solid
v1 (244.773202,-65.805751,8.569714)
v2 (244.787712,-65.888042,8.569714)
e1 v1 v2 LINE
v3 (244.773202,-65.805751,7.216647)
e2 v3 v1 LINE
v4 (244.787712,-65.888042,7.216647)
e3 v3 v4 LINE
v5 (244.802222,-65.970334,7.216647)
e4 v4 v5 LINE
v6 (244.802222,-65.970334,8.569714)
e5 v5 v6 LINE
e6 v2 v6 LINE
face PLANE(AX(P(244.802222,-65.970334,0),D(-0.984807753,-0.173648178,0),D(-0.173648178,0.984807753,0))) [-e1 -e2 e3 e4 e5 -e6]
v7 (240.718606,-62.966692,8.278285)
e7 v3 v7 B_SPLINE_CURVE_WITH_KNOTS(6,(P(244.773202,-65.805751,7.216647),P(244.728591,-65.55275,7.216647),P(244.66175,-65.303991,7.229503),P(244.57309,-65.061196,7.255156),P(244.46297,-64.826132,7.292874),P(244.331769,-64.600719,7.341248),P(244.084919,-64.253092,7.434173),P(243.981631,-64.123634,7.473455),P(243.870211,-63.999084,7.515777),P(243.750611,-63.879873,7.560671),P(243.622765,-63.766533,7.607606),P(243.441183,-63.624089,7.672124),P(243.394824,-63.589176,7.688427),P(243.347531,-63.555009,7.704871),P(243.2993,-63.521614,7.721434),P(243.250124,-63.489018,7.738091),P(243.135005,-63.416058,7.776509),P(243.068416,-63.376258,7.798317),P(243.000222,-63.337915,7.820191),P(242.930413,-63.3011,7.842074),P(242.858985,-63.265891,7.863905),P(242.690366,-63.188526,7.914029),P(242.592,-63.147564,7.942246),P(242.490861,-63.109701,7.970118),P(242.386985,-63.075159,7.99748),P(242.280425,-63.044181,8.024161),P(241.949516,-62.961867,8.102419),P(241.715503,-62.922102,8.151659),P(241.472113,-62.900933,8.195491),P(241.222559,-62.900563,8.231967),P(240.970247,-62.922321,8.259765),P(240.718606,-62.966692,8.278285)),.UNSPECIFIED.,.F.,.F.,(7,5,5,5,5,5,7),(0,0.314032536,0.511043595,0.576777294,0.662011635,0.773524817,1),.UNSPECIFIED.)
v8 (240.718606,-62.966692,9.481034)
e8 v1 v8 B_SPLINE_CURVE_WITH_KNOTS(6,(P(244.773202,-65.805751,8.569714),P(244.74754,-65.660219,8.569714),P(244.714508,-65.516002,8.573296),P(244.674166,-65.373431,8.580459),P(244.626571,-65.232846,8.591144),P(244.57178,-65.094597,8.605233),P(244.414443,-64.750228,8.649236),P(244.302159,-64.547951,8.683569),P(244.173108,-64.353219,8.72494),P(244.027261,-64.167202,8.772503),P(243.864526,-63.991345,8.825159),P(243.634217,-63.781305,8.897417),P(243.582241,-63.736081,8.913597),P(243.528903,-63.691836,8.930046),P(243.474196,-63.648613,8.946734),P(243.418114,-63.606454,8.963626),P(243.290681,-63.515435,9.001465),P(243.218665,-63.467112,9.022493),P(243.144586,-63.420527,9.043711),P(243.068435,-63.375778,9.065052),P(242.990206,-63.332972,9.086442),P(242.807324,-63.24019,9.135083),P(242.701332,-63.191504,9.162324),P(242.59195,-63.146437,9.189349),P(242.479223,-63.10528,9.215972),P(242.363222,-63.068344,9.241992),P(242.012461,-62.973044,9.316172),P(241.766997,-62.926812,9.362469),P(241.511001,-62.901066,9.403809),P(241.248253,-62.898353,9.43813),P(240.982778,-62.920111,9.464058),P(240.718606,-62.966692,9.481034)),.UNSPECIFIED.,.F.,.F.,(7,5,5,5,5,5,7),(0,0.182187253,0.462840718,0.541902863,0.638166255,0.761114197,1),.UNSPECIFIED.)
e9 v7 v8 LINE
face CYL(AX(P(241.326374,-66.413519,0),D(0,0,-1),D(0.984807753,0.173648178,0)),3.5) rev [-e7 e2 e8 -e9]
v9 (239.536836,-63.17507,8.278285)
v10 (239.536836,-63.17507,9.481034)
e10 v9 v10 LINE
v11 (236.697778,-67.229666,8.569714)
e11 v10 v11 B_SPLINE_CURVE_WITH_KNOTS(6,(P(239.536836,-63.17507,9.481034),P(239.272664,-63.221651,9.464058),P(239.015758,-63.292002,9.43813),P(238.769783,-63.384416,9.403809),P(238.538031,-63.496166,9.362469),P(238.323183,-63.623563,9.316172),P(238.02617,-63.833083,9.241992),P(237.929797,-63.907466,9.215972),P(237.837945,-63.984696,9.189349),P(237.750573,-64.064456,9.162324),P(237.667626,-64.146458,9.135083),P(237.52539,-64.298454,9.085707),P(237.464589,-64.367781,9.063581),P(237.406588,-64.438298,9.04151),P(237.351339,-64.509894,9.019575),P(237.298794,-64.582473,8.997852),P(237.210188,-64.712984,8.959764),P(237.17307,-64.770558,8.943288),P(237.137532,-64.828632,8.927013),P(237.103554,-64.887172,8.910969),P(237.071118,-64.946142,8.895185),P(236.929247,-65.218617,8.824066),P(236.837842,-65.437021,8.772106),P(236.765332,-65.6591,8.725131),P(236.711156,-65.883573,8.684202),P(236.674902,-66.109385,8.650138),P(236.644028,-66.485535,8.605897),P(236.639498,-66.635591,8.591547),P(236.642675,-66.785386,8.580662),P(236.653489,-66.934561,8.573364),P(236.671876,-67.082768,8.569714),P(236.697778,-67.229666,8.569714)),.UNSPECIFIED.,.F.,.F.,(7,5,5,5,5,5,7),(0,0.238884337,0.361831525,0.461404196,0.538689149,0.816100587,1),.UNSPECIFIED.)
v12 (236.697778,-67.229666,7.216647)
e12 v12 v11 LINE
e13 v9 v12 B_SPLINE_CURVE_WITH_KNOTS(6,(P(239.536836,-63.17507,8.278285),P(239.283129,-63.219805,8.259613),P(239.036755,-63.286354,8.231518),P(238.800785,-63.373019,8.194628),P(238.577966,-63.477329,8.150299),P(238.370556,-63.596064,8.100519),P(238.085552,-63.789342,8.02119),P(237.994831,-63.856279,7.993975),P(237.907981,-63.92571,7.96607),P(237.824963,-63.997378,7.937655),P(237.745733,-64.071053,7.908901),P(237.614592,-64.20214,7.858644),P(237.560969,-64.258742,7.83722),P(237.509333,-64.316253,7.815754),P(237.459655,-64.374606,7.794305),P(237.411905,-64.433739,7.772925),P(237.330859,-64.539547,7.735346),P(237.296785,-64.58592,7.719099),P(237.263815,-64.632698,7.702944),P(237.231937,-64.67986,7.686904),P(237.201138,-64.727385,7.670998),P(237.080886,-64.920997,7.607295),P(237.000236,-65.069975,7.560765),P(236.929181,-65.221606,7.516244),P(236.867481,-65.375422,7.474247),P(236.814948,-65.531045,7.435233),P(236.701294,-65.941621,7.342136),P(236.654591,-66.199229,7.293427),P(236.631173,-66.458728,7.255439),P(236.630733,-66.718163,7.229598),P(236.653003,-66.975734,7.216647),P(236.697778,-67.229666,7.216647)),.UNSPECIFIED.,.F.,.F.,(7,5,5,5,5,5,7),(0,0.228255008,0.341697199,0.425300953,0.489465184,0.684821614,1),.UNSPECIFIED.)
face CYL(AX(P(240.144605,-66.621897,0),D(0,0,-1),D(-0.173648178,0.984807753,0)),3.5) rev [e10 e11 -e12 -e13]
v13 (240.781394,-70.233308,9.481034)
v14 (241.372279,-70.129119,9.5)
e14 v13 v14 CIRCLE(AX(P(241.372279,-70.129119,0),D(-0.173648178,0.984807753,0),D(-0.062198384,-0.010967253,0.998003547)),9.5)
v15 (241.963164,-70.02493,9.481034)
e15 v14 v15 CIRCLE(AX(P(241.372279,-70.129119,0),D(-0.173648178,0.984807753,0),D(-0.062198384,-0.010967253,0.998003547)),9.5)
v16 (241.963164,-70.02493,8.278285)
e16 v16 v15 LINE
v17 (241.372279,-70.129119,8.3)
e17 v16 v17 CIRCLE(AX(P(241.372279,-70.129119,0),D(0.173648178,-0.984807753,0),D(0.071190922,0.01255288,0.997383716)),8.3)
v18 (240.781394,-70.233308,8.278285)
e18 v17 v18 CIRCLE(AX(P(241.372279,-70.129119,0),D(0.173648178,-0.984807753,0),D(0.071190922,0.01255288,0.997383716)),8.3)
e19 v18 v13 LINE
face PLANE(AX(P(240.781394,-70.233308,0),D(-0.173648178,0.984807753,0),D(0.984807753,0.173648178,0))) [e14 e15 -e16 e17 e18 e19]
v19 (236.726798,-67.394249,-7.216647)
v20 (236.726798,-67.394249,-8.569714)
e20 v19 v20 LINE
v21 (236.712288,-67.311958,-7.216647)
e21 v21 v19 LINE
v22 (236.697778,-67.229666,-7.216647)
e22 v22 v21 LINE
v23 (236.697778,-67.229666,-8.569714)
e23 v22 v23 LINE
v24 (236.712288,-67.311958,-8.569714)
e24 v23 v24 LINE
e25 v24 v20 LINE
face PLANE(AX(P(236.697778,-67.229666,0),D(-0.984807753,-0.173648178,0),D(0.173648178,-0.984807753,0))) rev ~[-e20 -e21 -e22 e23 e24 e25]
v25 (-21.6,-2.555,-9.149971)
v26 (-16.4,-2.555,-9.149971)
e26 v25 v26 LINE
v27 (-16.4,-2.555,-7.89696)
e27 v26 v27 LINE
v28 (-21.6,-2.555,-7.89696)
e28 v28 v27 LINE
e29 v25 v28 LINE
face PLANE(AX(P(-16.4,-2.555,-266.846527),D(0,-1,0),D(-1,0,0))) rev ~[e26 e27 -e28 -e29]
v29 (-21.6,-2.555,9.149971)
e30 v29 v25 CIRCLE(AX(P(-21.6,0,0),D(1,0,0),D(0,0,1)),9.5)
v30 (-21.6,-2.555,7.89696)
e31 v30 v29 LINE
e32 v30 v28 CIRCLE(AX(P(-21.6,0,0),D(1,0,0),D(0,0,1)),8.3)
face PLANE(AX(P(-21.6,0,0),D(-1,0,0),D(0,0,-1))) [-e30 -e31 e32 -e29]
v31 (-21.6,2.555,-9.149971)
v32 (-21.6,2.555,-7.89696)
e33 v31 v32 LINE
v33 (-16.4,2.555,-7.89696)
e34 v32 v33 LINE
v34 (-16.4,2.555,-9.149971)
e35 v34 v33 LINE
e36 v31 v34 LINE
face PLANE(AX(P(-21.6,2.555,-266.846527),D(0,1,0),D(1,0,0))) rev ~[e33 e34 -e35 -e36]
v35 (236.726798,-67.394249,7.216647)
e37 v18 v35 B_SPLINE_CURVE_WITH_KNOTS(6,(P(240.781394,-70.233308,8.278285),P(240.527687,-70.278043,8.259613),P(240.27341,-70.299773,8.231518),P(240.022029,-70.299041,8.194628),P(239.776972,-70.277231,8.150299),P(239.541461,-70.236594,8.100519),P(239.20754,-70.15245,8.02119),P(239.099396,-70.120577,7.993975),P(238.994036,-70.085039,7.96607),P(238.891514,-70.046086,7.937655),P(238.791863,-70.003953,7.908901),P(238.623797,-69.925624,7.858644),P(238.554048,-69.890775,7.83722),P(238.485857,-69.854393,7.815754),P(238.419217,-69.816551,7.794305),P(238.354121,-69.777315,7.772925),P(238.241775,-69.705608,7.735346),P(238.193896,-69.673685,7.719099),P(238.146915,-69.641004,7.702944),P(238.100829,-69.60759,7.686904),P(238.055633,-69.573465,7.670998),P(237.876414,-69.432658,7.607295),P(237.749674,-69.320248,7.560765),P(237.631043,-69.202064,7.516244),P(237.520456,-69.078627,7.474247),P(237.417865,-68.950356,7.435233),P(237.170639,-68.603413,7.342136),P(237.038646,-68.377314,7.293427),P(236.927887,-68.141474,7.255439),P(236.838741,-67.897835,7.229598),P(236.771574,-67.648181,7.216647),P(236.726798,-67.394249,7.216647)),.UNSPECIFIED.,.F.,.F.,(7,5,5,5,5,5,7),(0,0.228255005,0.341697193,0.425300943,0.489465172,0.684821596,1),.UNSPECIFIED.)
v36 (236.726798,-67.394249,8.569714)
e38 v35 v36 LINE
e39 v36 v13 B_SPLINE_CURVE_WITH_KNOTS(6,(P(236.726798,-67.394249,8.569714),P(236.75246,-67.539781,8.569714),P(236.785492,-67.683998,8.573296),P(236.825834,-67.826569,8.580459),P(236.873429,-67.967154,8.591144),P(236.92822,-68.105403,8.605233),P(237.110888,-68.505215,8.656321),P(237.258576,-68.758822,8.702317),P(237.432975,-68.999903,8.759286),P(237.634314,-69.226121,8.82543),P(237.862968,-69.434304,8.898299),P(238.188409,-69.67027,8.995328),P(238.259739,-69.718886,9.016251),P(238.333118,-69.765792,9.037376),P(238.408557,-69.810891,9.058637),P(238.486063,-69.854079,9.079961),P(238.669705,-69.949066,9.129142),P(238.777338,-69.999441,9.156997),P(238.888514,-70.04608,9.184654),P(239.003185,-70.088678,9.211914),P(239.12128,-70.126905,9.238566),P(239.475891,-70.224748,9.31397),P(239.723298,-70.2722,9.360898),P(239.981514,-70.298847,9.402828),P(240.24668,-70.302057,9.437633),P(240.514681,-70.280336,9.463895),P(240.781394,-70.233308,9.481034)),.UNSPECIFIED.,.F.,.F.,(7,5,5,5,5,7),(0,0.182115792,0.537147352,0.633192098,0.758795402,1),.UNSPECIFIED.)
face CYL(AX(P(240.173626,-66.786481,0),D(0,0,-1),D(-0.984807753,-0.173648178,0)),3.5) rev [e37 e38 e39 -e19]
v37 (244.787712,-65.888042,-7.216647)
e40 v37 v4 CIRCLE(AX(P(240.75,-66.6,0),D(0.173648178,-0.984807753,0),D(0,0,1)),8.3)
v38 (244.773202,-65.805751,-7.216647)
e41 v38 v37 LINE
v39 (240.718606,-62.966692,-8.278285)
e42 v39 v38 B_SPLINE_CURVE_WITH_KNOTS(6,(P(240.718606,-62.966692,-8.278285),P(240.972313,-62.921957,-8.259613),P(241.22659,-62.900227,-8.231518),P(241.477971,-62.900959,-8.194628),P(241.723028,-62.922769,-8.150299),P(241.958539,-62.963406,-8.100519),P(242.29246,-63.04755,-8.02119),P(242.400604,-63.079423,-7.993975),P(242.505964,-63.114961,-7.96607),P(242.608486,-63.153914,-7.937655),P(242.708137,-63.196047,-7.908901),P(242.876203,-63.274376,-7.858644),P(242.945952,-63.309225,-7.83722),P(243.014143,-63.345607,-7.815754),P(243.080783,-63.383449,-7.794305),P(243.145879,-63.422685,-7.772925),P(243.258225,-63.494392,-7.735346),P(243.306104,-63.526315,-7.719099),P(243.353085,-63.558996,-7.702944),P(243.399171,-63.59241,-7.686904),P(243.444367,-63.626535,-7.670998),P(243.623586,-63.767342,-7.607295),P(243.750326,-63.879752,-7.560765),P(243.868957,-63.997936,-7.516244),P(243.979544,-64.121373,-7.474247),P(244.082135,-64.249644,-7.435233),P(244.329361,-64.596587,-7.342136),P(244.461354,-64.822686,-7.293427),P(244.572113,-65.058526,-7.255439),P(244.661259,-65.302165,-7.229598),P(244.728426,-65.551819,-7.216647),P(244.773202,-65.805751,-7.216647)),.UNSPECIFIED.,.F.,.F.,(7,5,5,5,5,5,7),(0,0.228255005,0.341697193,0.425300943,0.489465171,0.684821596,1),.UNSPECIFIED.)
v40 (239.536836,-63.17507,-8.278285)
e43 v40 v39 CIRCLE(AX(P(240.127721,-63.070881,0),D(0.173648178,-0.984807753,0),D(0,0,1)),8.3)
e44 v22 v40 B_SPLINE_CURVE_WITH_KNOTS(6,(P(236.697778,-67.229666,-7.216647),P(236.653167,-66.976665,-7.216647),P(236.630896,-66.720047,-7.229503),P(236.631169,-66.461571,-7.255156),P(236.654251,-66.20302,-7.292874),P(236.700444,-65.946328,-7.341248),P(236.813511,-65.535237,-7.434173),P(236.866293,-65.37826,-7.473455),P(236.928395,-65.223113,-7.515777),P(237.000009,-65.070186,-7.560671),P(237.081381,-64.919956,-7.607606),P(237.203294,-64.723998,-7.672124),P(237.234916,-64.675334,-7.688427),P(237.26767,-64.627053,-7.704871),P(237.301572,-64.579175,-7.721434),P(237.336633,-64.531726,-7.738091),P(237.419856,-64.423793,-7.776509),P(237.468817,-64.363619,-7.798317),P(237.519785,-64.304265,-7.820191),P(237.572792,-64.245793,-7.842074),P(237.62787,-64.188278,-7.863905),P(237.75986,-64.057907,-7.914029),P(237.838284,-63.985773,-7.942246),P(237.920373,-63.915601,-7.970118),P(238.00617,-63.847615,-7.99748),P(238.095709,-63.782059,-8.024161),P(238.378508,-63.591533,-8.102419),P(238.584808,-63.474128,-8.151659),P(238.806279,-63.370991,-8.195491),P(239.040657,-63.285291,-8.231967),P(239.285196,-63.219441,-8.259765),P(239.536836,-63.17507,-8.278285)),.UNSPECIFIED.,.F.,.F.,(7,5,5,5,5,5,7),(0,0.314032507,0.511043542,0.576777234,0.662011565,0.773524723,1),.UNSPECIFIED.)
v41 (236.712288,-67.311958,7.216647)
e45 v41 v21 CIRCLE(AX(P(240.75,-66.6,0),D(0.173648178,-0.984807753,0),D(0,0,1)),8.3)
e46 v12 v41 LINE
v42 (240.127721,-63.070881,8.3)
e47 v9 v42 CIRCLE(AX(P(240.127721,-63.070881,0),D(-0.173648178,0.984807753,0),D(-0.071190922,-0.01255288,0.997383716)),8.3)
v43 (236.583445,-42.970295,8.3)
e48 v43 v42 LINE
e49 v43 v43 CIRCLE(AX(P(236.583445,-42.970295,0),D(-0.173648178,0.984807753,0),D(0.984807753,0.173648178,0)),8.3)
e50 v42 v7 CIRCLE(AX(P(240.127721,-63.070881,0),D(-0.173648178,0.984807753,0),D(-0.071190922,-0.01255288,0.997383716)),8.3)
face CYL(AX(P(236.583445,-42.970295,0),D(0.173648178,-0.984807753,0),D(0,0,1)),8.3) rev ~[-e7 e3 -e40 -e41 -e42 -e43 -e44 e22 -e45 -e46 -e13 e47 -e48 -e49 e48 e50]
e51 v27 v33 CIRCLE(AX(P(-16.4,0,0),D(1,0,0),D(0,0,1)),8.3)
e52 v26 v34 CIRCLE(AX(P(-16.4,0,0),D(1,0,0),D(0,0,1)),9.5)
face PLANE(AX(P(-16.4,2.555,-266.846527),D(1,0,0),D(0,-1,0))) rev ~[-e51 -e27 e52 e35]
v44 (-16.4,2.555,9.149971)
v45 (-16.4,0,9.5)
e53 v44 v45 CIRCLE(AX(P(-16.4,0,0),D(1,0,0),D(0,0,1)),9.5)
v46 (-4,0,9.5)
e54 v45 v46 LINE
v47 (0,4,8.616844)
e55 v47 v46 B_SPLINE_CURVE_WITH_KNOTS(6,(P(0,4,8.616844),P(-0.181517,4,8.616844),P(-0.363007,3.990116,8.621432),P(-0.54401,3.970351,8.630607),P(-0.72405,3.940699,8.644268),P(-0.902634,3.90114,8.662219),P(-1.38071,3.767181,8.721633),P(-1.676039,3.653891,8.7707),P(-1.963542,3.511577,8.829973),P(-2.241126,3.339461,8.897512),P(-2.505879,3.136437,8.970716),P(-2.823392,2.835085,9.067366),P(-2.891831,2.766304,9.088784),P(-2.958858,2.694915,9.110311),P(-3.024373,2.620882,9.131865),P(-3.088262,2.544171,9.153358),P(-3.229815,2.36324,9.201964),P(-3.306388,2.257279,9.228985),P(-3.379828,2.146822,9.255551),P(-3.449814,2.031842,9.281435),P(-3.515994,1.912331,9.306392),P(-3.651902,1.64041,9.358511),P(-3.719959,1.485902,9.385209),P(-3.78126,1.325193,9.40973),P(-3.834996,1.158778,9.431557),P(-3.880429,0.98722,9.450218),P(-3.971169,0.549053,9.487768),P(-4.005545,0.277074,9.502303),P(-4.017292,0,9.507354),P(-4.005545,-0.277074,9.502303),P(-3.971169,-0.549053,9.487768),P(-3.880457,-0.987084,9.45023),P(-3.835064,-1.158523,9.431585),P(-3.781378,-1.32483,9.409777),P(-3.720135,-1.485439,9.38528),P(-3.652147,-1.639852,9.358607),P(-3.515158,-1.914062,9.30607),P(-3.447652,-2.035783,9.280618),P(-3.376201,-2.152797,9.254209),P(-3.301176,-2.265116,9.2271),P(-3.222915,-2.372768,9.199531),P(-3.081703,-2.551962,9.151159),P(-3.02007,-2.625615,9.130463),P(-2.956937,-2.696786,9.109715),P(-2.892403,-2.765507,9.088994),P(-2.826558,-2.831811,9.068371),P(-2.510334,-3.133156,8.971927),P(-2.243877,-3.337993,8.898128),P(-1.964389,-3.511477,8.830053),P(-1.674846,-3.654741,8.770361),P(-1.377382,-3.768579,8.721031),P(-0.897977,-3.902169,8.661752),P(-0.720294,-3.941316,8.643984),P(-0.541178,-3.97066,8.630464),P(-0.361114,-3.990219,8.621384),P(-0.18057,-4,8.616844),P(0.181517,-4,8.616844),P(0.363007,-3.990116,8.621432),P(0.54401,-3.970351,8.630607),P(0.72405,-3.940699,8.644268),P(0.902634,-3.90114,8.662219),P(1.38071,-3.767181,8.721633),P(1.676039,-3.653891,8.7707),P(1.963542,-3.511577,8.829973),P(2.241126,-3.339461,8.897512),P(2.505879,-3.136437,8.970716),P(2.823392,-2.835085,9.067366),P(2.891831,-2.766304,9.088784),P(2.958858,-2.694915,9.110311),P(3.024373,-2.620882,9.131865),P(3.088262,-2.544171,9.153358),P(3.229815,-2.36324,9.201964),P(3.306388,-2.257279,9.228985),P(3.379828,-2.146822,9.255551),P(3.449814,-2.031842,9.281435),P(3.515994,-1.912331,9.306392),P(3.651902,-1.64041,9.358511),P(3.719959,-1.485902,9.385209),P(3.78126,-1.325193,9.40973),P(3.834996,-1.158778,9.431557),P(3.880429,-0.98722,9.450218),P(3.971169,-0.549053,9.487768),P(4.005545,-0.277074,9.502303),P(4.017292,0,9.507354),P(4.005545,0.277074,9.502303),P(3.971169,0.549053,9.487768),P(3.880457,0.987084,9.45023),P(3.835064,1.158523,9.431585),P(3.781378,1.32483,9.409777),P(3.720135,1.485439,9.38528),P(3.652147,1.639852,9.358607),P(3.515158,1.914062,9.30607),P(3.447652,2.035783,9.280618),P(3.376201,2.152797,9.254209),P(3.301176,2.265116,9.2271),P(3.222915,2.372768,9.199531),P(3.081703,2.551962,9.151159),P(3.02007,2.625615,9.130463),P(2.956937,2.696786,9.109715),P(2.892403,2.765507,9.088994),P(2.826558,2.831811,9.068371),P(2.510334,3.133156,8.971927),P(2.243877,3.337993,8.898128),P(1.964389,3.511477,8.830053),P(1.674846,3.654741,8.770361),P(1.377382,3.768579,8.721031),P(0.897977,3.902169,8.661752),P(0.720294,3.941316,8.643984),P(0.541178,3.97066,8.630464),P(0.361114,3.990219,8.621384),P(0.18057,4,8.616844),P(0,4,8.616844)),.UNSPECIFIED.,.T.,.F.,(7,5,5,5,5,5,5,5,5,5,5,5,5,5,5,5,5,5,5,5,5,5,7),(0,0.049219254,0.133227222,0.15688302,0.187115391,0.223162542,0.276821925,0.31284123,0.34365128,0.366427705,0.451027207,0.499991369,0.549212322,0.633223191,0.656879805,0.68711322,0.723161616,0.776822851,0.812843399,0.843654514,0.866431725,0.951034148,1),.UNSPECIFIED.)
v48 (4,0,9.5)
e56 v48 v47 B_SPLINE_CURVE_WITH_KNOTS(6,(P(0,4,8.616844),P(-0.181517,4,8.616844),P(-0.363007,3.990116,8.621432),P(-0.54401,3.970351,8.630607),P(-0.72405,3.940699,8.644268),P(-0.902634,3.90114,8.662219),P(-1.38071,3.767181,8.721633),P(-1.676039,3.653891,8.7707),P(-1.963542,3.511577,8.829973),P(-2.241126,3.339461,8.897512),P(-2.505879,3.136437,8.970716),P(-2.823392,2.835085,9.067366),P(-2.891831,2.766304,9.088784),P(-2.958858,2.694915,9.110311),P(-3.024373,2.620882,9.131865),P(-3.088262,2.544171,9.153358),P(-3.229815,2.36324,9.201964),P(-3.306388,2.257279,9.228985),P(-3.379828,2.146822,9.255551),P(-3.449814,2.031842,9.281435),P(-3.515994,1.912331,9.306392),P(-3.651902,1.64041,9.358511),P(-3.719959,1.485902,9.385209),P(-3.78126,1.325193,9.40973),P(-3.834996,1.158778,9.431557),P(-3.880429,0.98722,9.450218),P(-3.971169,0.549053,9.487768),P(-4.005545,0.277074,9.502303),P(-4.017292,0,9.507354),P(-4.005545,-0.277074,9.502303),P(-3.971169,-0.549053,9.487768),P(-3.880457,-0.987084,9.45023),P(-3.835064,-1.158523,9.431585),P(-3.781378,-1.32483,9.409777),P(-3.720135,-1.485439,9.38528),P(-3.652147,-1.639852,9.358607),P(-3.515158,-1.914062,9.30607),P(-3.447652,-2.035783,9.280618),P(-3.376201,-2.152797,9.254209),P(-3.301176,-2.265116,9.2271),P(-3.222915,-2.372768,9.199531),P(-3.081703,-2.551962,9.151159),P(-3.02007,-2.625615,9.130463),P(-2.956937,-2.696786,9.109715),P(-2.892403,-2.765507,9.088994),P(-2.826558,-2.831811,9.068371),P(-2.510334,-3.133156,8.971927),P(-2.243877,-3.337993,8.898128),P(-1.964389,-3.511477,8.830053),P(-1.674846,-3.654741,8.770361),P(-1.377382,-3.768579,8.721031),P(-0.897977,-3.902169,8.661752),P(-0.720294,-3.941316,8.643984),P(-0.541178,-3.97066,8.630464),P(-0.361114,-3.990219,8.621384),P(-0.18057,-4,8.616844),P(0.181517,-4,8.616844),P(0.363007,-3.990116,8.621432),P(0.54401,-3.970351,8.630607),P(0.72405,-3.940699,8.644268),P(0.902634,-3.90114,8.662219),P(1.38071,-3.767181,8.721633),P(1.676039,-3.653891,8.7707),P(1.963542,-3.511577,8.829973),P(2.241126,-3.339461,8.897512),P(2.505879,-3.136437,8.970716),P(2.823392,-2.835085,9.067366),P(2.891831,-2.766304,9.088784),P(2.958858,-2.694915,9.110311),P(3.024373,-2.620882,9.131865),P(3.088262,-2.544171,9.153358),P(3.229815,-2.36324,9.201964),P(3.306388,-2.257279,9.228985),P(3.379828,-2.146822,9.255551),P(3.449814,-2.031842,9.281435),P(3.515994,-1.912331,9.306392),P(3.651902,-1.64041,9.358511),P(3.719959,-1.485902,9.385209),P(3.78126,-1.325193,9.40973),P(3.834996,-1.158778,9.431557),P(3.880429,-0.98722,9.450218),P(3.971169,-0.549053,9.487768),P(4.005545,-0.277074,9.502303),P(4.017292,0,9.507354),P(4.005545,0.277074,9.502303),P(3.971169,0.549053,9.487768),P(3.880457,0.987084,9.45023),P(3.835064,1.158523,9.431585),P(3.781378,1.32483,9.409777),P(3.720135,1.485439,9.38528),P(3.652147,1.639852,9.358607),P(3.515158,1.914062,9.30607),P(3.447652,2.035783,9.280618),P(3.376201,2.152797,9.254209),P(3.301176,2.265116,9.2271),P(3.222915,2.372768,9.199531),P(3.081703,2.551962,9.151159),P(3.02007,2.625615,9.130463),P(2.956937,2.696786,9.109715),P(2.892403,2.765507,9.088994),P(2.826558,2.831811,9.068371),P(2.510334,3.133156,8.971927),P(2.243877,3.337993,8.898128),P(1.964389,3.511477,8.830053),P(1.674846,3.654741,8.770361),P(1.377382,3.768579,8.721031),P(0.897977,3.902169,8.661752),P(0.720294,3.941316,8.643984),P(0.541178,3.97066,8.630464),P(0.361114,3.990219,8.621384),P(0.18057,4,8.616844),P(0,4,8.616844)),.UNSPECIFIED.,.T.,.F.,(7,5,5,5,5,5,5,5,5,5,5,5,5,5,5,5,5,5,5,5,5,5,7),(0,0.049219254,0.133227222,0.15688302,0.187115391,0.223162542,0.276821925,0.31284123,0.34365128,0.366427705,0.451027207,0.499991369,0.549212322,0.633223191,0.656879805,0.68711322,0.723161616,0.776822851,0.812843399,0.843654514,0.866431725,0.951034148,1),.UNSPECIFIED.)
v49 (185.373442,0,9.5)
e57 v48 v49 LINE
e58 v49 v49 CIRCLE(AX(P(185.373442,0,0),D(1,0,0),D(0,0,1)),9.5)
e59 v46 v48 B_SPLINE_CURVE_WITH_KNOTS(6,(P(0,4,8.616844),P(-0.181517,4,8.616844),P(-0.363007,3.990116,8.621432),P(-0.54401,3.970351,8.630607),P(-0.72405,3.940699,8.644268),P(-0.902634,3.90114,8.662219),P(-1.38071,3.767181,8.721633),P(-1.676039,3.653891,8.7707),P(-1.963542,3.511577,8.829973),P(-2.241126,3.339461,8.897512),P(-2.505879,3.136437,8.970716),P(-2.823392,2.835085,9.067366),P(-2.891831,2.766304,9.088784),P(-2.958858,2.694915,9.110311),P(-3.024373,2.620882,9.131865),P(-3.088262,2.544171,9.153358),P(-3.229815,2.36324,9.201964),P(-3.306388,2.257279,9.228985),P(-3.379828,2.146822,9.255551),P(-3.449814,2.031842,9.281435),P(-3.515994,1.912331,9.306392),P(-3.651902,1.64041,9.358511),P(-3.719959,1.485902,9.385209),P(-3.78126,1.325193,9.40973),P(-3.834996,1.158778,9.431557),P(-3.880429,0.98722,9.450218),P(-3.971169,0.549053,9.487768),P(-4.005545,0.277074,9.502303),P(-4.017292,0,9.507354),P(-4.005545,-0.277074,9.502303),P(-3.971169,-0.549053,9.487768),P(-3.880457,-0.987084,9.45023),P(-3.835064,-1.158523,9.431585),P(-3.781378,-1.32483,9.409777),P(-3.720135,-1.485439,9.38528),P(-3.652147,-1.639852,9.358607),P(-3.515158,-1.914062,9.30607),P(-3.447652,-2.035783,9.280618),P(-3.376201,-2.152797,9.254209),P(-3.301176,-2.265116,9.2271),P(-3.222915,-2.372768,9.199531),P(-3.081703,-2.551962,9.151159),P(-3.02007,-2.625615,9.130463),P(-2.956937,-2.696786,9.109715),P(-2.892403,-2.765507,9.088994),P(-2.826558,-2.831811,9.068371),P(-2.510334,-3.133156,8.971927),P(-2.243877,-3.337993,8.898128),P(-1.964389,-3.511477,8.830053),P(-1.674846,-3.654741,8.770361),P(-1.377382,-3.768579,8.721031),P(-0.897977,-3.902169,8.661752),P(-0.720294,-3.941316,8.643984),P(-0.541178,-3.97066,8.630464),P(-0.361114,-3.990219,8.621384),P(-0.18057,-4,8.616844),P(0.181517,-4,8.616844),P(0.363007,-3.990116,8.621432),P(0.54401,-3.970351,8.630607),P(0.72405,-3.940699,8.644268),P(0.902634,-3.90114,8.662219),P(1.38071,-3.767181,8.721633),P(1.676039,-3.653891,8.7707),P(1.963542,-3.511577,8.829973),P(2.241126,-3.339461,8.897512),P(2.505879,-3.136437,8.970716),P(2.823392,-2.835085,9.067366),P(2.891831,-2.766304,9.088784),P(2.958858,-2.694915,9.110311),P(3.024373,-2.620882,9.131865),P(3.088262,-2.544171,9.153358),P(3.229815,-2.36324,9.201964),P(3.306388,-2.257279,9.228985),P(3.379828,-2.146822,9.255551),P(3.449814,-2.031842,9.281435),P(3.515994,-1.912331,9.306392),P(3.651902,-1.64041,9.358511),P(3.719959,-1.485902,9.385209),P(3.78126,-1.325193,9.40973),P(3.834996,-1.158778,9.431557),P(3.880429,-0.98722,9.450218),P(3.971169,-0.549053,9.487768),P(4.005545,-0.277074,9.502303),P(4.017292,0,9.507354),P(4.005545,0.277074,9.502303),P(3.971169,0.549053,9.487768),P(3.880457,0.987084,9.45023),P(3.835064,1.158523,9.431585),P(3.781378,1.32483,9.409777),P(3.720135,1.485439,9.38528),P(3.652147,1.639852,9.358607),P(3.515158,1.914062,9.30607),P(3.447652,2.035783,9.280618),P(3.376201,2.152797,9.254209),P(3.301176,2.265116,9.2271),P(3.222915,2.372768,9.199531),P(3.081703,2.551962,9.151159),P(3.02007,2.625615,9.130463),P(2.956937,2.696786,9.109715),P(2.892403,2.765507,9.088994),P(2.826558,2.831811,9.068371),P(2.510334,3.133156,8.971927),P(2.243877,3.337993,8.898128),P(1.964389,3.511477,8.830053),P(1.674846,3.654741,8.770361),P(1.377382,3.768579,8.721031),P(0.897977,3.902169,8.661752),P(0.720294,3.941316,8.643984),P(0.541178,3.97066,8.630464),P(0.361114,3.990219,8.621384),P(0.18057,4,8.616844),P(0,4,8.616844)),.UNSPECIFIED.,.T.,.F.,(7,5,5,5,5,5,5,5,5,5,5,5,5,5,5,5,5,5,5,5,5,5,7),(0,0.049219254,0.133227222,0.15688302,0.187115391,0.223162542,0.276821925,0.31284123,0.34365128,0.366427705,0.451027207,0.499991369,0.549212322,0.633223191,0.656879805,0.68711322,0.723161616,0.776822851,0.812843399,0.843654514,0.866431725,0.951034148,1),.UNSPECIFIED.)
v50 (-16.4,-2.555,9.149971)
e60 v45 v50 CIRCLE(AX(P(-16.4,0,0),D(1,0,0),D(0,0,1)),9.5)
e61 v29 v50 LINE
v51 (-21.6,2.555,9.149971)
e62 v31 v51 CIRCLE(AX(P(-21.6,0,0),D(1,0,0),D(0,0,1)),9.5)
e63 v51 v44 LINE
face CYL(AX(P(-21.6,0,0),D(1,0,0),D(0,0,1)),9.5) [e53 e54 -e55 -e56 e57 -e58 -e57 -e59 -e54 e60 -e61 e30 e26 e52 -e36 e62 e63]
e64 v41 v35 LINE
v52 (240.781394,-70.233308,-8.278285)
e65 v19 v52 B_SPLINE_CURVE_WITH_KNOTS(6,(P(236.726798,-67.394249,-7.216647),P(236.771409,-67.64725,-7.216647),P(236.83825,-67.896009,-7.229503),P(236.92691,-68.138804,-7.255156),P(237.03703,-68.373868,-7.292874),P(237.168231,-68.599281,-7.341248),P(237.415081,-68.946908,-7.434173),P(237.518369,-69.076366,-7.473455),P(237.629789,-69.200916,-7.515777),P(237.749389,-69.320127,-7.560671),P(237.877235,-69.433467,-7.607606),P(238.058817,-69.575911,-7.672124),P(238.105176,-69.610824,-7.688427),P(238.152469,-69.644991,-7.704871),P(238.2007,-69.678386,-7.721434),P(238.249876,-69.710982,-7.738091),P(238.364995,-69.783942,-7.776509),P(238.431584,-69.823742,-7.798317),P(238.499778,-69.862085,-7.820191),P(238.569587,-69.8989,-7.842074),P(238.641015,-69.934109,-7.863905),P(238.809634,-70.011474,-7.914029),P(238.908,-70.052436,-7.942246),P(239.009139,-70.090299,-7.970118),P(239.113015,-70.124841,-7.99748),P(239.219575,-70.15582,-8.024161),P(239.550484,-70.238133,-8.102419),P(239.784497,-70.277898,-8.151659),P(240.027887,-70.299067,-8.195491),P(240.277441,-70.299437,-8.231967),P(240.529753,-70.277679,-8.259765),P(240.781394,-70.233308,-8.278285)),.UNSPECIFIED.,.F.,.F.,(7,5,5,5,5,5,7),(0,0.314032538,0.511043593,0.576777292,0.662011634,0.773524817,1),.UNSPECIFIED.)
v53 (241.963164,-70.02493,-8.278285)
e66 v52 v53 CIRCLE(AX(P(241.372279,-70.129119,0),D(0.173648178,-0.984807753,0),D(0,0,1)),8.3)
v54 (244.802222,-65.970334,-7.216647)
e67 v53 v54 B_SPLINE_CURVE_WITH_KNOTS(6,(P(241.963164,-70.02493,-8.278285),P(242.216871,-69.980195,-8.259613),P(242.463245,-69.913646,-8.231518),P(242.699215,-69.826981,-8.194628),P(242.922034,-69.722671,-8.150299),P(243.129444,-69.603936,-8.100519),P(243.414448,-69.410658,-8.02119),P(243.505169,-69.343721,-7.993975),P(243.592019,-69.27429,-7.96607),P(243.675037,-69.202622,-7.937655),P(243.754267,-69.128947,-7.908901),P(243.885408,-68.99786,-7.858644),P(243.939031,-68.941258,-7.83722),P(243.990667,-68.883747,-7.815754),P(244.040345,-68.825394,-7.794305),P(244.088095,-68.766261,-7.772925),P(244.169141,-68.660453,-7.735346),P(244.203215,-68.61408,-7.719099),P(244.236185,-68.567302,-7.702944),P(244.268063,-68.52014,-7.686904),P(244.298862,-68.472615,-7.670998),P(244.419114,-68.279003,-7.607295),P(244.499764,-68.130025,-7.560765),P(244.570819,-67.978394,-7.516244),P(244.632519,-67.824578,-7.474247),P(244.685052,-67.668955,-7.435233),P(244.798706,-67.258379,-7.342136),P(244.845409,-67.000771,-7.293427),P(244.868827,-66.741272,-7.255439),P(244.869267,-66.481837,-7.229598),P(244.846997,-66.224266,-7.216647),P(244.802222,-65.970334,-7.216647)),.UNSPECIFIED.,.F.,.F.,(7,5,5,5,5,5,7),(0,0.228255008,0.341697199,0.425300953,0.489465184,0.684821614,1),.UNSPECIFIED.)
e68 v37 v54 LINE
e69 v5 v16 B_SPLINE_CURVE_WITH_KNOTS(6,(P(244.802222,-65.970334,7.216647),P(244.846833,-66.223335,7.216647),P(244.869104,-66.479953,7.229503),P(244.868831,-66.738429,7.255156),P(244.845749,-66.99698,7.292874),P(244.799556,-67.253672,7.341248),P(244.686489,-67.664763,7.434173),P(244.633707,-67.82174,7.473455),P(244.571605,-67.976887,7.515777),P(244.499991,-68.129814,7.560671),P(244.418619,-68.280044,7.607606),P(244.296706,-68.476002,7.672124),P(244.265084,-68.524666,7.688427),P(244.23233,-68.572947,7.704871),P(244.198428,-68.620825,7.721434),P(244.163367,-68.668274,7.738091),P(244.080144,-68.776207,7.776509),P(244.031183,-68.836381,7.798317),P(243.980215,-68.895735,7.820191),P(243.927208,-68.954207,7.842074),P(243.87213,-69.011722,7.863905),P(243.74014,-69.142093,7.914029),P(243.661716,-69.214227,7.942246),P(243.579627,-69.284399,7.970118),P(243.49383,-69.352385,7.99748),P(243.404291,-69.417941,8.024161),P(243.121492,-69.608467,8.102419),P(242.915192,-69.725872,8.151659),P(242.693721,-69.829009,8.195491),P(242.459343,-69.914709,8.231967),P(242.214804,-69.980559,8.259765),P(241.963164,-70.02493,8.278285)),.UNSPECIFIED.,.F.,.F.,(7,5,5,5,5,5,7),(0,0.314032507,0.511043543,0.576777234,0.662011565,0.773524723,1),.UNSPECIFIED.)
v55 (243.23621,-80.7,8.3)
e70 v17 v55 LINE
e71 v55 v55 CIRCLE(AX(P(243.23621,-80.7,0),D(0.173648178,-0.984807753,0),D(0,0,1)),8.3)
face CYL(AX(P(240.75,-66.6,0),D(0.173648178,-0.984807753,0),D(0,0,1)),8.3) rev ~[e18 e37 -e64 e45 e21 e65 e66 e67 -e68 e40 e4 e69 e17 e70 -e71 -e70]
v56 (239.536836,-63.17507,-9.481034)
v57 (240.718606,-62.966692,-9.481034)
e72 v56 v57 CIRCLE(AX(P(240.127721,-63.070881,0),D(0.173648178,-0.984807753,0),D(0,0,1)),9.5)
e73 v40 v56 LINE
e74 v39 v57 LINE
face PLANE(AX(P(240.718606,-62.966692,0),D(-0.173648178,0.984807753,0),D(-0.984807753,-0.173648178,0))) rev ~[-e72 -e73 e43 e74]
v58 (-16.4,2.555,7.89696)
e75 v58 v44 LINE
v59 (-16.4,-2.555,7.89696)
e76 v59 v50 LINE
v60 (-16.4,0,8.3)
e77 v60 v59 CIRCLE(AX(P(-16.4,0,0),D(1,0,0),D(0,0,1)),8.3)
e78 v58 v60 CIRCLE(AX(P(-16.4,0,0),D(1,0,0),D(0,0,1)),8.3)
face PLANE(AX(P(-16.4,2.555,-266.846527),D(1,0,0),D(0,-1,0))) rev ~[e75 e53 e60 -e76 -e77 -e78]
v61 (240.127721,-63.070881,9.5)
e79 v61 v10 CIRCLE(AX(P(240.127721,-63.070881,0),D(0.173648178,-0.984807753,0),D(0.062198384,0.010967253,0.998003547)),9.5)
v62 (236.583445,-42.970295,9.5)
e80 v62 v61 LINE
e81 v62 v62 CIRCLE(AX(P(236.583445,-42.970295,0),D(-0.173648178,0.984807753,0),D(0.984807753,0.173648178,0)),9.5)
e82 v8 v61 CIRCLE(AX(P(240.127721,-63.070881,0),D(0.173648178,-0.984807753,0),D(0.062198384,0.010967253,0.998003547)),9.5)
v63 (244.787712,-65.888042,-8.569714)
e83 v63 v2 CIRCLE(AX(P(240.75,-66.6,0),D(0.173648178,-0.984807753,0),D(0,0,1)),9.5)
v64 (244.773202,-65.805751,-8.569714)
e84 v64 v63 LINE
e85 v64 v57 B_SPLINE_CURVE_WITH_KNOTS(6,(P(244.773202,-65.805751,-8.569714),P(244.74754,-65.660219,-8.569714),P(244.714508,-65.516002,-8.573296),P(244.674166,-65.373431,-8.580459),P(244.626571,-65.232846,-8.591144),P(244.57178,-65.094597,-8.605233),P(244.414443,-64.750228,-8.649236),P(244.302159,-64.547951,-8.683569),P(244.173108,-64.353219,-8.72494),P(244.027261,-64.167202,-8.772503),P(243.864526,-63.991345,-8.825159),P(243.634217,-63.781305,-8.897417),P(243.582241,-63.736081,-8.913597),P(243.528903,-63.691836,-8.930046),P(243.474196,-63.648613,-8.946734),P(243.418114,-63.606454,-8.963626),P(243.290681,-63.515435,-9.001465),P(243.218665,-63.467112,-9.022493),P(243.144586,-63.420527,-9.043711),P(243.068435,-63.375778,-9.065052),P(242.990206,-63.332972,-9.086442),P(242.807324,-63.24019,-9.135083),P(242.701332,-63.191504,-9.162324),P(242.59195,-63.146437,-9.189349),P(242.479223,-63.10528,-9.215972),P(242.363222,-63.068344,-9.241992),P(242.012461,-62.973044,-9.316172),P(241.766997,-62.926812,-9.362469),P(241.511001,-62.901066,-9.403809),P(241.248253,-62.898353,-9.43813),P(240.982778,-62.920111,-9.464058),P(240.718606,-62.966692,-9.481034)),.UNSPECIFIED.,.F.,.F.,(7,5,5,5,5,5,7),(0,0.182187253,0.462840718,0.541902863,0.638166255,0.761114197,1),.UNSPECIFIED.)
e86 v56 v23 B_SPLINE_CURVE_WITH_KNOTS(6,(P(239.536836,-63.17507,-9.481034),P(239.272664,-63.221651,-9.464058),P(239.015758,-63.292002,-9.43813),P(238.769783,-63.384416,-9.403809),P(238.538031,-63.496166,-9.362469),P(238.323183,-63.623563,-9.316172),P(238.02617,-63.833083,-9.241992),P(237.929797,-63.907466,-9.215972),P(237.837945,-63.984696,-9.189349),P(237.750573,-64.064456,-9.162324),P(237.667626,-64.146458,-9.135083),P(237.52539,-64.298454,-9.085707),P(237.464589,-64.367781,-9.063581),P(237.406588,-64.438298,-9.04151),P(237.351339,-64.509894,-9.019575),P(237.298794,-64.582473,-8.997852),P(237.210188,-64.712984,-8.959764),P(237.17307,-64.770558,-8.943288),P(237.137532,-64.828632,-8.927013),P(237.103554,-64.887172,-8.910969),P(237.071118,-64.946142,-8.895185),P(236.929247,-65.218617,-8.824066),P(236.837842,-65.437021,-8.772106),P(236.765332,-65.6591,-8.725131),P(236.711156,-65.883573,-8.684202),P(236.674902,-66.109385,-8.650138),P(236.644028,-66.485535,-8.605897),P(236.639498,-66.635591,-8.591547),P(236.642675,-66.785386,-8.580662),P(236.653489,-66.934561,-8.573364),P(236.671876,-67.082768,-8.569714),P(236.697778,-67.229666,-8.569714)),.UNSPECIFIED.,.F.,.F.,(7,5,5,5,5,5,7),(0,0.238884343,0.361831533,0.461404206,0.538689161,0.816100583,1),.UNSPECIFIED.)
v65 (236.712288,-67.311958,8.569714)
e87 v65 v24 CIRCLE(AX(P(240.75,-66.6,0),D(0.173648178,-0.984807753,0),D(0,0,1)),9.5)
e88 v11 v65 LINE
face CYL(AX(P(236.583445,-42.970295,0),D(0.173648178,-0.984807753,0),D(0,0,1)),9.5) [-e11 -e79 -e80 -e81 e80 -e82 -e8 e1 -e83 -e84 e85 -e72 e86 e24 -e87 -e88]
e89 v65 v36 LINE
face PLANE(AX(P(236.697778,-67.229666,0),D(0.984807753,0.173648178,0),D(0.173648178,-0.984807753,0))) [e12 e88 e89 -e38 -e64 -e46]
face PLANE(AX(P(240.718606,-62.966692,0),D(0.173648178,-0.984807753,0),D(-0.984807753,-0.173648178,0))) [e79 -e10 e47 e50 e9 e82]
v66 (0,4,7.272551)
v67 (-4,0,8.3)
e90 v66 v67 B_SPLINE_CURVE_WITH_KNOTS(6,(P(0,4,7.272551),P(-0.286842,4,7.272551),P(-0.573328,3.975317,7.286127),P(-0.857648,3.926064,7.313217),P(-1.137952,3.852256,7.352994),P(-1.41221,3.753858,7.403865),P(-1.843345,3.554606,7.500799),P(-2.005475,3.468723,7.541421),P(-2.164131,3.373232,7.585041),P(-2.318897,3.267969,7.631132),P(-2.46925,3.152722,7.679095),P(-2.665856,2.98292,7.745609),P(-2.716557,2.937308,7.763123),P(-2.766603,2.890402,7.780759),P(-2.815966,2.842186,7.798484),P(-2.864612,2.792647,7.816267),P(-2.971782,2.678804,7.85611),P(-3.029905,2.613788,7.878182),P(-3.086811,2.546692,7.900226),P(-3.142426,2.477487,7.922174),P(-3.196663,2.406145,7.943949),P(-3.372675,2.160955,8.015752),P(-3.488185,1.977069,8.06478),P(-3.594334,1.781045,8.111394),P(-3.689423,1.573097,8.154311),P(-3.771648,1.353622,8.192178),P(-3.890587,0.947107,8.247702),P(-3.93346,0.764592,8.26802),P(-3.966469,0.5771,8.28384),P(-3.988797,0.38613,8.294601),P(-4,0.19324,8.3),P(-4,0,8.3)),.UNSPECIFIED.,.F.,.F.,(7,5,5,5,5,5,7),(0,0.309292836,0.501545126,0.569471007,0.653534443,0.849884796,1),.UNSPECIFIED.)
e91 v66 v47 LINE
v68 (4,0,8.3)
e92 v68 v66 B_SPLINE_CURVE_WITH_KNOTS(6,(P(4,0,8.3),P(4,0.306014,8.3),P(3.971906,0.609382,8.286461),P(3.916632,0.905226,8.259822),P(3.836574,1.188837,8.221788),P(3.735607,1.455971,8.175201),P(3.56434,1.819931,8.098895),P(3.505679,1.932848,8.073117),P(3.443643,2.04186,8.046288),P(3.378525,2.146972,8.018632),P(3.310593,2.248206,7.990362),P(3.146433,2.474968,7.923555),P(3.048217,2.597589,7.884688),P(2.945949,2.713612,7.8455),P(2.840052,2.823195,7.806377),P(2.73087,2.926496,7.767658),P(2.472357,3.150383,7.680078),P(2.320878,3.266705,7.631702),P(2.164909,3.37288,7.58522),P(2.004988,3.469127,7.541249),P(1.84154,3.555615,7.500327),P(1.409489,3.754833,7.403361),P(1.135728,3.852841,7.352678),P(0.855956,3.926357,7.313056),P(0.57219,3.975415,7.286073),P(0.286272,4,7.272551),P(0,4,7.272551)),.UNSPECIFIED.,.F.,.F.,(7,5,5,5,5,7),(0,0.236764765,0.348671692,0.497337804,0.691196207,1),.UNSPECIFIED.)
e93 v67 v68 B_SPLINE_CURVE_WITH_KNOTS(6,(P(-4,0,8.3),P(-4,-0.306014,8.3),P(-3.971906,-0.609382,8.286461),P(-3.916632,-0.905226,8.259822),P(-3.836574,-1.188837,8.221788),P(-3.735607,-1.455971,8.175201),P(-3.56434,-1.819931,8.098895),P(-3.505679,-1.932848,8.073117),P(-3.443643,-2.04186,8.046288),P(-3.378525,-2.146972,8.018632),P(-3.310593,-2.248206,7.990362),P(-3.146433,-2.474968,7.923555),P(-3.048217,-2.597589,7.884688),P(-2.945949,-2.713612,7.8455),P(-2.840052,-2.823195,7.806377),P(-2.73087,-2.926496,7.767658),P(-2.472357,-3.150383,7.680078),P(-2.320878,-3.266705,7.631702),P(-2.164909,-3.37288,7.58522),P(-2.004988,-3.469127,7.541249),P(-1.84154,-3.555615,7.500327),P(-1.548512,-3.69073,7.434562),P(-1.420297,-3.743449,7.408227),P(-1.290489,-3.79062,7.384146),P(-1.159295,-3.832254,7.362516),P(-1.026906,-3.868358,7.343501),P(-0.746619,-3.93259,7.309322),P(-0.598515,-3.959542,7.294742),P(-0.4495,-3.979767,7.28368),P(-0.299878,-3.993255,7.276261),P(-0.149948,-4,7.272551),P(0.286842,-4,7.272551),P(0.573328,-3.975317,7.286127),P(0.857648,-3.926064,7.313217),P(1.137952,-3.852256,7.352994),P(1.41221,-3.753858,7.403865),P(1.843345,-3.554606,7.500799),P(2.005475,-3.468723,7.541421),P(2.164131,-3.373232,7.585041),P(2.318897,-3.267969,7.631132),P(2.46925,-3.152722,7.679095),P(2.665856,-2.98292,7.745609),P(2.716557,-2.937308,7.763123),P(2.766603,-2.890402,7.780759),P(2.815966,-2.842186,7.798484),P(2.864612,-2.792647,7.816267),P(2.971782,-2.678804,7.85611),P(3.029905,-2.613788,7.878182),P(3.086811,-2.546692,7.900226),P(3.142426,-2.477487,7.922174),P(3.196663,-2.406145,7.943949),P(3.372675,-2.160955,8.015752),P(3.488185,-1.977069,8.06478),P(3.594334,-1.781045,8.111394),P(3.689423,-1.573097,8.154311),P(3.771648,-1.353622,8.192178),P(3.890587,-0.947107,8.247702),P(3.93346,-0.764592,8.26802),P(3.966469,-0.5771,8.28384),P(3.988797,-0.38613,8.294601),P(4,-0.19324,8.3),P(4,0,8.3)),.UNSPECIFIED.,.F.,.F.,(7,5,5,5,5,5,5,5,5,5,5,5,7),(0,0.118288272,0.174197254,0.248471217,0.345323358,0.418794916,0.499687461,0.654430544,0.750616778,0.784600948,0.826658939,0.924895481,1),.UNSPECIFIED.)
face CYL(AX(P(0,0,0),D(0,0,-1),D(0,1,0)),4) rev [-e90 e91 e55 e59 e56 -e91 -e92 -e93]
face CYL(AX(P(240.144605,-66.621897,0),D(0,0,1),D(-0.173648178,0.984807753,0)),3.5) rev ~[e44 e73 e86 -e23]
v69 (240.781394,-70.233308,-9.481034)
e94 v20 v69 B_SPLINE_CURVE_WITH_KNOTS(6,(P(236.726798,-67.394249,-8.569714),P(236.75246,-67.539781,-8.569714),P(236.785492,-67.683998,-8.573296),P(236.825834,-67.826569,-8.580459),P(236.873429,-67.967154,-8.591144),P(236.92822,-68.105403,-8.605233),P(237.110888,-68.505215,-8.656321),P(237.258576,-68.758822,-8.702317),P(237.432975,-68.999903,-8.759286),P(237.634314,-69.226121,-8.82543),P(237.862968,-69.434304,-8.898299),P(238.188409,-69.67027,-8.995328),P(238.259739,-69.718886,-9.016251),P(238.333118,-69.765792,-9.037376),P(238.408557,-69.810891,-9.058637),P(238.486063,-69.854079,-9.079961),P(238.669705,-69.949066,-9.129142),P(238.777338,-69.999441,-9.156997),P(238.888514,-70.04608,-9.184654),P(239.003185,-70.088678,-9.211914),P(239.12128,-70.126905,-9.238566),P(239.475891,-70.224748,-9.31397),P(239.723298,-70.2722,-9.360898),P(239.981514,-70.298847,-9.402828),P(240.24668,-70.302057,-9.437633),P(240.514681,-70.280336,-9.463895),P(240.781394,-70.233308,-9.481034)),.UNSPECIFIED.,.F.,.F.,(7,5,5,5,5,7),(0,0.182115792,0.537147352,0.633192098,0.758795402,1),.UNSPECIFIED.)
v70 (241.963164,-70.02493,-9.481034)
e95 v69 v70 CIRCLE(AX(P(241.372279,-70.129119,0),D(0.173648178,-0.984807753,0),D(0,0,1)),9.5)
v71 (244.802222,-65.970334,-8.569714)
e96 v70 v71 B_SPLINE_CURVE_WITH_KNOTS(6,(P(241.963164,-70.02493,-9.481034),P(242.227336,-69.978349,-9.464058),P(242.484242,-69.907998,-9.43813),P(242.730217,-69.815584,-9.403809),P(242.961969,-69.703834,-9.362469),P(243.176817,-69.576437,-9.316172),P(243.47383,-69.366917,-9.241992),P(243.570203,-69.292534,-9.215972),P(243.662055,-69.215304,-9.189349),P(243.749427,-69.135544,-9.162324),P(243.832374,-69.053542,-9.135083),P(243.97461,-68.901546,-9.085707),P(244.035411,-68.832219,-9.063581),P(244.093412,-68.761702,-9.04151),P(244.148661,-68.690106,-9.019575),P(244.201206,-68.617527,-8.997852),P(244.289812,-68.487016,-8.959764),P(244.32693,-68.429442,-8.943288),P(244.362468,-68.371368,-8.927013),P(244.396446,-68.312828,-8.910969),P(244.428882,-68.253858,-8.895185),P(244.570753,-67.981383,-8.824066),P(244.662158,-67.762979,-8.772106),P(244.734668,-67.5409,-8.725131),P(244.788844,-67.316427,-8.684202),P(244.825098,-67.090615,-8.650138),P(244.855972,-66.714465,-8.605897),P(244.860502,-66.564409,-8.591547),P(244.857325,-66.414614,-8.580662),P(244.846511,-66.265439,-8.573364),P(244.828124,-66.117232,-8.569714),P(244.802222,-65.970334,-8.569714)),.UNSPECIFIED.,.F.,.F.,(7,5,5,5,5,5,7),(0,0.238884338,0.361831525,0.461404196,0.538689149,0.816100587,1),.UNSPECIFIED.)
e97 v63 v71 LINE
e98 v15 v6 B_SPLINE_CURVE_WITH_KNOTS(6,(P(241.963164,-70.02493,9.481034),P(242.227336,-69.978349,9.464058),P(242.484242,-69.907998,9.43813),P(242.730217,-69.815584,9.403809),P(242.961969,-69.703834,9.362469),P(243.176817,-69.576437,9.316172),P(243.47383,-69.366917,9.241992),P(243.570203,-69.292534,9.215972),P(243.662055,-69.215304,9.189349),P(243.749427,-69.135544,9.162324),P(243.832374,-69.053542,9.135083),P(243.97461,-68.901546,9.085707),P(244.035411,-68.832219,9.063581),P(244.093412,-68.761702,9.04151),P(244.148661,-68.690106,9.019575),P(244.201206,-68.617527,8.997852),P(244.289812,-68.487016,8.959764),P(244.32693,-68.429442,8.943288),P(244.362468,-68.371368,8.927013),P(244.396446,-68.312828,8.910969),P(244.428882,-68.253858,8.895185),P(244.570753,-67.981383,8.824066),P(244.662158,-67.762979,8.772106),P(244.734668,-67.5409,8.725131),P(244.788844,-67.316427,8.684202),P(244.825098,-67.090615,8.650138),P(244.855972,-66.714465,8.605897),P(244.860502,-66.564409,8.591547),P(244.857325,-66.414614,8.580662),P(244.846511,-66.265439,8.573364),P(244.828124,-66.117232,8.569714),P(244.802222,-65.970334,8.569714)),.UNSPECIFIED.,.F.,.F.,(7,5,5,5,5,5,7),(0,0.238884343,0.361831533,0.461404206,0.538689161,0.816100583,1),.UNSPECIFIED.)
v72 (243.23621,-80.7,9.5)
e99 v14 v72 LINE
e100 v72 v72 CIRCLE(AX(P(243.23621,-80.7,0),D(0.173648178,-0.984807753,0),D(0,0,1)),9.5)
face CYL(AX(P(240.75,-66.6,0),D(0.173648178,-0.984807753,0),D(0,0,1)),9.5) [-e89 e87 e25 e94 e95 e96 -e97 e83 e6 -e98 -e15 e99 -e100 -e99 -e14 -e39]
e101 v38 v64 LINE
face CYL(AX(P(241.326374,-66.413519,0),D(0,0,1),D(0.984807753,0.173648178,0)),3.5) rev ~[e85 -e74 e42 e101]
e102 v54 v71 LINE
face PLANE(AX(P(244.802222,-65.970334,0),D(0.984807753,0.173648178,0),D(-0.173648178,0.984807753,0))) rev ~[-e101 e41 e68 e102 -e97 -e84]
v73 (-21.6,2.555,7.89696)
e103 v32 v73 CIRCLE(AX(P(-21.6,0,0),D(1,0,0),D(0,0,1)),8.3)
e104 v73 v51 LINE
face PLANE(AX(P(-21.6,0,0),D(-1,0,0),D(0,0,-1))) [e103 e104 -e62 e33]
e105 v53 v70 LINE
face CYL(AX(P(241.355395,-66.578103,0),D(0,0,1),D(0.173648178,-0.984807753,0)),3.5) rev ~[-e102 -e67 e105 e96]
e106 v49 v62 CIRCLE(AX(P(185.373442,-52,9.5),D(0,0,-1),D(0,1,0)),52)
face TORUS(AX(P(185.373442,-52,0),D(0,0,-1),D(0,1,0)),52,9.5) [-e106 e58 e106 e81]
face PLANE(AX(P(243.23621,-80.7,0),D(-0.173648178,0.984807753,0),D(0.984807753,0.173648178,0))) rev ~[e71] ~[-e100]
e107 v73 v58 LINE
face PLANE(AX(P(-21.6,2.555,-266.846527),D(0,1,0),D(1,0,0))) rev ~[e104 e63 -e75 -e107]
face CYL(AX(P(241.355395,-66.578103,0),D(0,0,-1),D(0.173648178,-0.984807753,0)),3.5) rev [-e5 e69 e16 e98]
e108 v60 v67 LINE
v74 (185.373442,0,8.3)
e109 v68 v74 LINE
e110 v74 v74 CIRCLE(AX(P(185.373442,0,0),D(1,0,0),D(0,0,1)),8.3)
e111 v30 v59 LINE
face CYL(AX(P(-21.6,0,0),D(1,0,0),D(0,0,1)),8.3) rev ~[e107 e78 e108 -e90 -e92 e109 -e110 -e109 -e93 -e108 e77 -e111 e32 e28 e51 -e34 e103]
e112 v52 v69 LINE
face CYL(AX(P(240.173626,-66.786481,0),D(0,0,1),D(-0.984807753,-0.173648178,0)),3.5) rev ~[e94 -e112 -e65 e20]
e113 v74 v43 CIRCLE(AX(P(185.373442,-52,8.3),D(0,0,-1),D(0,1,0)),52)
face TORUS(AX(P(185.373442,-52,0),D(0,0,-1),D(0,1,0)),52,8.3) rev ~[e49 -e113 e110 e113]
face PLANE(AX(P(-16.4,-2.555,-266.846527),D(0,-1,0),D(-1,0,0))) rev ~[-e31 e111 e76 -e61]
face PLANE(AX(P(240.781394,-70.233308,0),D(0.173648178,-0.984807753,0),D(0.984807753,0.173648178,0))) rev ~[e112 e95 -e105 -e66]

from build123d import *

# Parameters (mm, degrees)
SKETCH2_R                      = 9.5
SKETCH2_R_2                    = 8.3
CUT_EXTRUDE1_REACH             = 267.847
CUT_EXTRUDE1_DIRECTION_2_REACH = 267.847
CUT_EXTRUDE2_REACH             = 267.847
CUT_EXTRUDE2_END_RADIUS        = 9.5
SKETCH4_R                      = 4
CUT_EXTRUDE3_DEPTH             = 266.846527331
CUT_EXTRUDE3_DEPTH_BACK        = 266.846527331


with BuildPart() as part:
    # Sweep1: sweep along a path in Sketch1
    with BuildLine(Plane.XY) as sweep1_path:
        Line((-21.6, 0), (0, 0))
        Line((0, 0), (185.373442264, 0))
        ThreePointArc((185.373442264, 0), (218.798397967, -12.165688958), (236.58344542, -42.970294761))
        Line((236.58344542, -42.970294761), (240.75, -66.6))
        Line((240.75, -66.6), (243.236210428, -80.7))
    # Sketch2 → Sweep1 (sweep)
    with BuildSketch(Plane.ZY.offset(21.6)):
        Circle(SKETCH2_R)
        Circle(SKETCH2_R_2, mode=Mode.SUBTRACT)
    sweep(path=sweep1_path.line)

    # Sketch3 → Cut-Extrude1 (cut, up to next)
    with BuildSketch(Plane.XY, mode=Mode.PRIVATE) as cut_extrude1_sk1:
        with BuildLine():
            Line((244.802222036, -65.97033418), (244.773201539, -65.805750763))
            ThreePointArc((244.773201539, -65.805750763), (243.33389193, -63.54648723), (240.718605781, -62.966692249))
            Line((240.718605781, -62.966692249), (239.536836478, -63.175070062))
            ThreePointArc((239.536836478, -63.175070062), (237.277572945, -64.614379671), (236.697777964, -67.22966582))
            Line((236.697777964, -67.22966582), (236.726798461, -67.394249237))
            ThreePointArc((236.726798461, -67.394249237), (238.16610807, -69.65351277), (240.781394219, -70.233307751))
            Line((240.781394219, -70.233307751), (241.963163522, -70.024929938))
            ThreePointArc((241.963163522, -70.024929938), (244.222427055, -68.585620329), (244.802222036, -65.97033418))
        make_face()
    cut_extrude1_tool1 = extrude(cut_extrude1_sk1.sketch, amount=-CUT_EXTRUDE1_REACH, mode=Mode.PRIVATE) & part.part
    add(cut_extrude1_tool1.solids().sort_by_distance((240.75, -66.6, 0))[0], mode=Mode.SUBTRACT)

    # Sketch3 → Cut-Extrude1 direction 2 (cut, up to next)
    with BuildSketch(Plane.XY, mode=Mode.PRIVATE) as cut_extrude1_direction_2_sk1:
        with BuildLine():
            Line((244.802222036, -65.97033418), (244.773201539, -65.805750763))
            ThreePointArc((244.773201539, -65.805750763), (243.33389193, -63.54648723), (240.718605781, -62.966692249))
            Line((240.718605781, -62.966692249), (239.536836478, -63.175070062))
            ThreePointArc((239.536836478, -63.175070062), (237.277572945, -64.614379671), (236.697777964, -67.22966582))
            Line((236.697777964, -67.22966582), (236.726798461, -67.394249237))
            ThreePointArc((236.726798461, -67.394249237), (238.16610807, -69.65351277), (240.781394219, -70.233307751))
            Line((240.781394219, -70.233307751), (241.963163522, -70.024929938))
            ThreePointArc((241.963163522, -70.024929938), (244.222427055, -68.585620329), (244.802222036, -65.97033418))
        make_face()
    cut_extrude1_direction_2_tool1 = extrude(cut_extrude1_direction_2_sk1.sketch, amount=CUT_EXTRUDE1_DIRECTION_2_REACH, mode=Mode.PRIVATE) & part.part
    add(cut_extrude1_direction_2_tool1.solids().sort_by_distance((240.75, -66.6, 0))[0], mode=Mode.SUBTRACT)

    # Cut-Extrude2: up to this cylinder (the profile starts inside it)
    cut_extrude2_end = Plane(origin=(0, 0, 0), z_dir=(-1, 0, 0)) * Cylinder(CUT_EXTRUDE2_END_RADIUS, 555.694, mode=Mode.PRIVATE)
    # Sketch4 → Cut-Extrude2 (cut, up to the surface)
    with BuildSketch(Plane.XY, mode=Mode.PRIVATE) as cut_extrude2_sk1:
        with Locations(Location((0, 0, 0), (0, 0, 90))):
            Circle(SKETCH4_R)
    cut_extrude2_tool1 = extrude(cut_extrude2_sk1.sketch, amount=CUT_EXTRUDE2_REACH, mode=Mode.PRIVATE) & cut_extrude2_end
    add(cut_extrude2_tool1.solids().sort_by_distance((0, 0, 0))[0], mode=Mode.SUBTRACT)

    # Sketch5 → Cut-Extrude3 (cut, two sides: drawn at the far end of the back side and taken through both)
    with BuildSketch(Plane.XY.offset(-CUT_EXTRUDE3_DEPTH_BACK)):
        Polygon((-21.6, 0), (-21.6, 2.555), (-16.4, 2.555), (-16.4, -2.555), (-21.6, -2.555), align=None)
    extrude(amount=CUT_EXTRUDE3_DEPTH + CUT_EXTRUDE3_DEPTH_BACK, mode=Mode.SUBTRACT)


solid = part.part
